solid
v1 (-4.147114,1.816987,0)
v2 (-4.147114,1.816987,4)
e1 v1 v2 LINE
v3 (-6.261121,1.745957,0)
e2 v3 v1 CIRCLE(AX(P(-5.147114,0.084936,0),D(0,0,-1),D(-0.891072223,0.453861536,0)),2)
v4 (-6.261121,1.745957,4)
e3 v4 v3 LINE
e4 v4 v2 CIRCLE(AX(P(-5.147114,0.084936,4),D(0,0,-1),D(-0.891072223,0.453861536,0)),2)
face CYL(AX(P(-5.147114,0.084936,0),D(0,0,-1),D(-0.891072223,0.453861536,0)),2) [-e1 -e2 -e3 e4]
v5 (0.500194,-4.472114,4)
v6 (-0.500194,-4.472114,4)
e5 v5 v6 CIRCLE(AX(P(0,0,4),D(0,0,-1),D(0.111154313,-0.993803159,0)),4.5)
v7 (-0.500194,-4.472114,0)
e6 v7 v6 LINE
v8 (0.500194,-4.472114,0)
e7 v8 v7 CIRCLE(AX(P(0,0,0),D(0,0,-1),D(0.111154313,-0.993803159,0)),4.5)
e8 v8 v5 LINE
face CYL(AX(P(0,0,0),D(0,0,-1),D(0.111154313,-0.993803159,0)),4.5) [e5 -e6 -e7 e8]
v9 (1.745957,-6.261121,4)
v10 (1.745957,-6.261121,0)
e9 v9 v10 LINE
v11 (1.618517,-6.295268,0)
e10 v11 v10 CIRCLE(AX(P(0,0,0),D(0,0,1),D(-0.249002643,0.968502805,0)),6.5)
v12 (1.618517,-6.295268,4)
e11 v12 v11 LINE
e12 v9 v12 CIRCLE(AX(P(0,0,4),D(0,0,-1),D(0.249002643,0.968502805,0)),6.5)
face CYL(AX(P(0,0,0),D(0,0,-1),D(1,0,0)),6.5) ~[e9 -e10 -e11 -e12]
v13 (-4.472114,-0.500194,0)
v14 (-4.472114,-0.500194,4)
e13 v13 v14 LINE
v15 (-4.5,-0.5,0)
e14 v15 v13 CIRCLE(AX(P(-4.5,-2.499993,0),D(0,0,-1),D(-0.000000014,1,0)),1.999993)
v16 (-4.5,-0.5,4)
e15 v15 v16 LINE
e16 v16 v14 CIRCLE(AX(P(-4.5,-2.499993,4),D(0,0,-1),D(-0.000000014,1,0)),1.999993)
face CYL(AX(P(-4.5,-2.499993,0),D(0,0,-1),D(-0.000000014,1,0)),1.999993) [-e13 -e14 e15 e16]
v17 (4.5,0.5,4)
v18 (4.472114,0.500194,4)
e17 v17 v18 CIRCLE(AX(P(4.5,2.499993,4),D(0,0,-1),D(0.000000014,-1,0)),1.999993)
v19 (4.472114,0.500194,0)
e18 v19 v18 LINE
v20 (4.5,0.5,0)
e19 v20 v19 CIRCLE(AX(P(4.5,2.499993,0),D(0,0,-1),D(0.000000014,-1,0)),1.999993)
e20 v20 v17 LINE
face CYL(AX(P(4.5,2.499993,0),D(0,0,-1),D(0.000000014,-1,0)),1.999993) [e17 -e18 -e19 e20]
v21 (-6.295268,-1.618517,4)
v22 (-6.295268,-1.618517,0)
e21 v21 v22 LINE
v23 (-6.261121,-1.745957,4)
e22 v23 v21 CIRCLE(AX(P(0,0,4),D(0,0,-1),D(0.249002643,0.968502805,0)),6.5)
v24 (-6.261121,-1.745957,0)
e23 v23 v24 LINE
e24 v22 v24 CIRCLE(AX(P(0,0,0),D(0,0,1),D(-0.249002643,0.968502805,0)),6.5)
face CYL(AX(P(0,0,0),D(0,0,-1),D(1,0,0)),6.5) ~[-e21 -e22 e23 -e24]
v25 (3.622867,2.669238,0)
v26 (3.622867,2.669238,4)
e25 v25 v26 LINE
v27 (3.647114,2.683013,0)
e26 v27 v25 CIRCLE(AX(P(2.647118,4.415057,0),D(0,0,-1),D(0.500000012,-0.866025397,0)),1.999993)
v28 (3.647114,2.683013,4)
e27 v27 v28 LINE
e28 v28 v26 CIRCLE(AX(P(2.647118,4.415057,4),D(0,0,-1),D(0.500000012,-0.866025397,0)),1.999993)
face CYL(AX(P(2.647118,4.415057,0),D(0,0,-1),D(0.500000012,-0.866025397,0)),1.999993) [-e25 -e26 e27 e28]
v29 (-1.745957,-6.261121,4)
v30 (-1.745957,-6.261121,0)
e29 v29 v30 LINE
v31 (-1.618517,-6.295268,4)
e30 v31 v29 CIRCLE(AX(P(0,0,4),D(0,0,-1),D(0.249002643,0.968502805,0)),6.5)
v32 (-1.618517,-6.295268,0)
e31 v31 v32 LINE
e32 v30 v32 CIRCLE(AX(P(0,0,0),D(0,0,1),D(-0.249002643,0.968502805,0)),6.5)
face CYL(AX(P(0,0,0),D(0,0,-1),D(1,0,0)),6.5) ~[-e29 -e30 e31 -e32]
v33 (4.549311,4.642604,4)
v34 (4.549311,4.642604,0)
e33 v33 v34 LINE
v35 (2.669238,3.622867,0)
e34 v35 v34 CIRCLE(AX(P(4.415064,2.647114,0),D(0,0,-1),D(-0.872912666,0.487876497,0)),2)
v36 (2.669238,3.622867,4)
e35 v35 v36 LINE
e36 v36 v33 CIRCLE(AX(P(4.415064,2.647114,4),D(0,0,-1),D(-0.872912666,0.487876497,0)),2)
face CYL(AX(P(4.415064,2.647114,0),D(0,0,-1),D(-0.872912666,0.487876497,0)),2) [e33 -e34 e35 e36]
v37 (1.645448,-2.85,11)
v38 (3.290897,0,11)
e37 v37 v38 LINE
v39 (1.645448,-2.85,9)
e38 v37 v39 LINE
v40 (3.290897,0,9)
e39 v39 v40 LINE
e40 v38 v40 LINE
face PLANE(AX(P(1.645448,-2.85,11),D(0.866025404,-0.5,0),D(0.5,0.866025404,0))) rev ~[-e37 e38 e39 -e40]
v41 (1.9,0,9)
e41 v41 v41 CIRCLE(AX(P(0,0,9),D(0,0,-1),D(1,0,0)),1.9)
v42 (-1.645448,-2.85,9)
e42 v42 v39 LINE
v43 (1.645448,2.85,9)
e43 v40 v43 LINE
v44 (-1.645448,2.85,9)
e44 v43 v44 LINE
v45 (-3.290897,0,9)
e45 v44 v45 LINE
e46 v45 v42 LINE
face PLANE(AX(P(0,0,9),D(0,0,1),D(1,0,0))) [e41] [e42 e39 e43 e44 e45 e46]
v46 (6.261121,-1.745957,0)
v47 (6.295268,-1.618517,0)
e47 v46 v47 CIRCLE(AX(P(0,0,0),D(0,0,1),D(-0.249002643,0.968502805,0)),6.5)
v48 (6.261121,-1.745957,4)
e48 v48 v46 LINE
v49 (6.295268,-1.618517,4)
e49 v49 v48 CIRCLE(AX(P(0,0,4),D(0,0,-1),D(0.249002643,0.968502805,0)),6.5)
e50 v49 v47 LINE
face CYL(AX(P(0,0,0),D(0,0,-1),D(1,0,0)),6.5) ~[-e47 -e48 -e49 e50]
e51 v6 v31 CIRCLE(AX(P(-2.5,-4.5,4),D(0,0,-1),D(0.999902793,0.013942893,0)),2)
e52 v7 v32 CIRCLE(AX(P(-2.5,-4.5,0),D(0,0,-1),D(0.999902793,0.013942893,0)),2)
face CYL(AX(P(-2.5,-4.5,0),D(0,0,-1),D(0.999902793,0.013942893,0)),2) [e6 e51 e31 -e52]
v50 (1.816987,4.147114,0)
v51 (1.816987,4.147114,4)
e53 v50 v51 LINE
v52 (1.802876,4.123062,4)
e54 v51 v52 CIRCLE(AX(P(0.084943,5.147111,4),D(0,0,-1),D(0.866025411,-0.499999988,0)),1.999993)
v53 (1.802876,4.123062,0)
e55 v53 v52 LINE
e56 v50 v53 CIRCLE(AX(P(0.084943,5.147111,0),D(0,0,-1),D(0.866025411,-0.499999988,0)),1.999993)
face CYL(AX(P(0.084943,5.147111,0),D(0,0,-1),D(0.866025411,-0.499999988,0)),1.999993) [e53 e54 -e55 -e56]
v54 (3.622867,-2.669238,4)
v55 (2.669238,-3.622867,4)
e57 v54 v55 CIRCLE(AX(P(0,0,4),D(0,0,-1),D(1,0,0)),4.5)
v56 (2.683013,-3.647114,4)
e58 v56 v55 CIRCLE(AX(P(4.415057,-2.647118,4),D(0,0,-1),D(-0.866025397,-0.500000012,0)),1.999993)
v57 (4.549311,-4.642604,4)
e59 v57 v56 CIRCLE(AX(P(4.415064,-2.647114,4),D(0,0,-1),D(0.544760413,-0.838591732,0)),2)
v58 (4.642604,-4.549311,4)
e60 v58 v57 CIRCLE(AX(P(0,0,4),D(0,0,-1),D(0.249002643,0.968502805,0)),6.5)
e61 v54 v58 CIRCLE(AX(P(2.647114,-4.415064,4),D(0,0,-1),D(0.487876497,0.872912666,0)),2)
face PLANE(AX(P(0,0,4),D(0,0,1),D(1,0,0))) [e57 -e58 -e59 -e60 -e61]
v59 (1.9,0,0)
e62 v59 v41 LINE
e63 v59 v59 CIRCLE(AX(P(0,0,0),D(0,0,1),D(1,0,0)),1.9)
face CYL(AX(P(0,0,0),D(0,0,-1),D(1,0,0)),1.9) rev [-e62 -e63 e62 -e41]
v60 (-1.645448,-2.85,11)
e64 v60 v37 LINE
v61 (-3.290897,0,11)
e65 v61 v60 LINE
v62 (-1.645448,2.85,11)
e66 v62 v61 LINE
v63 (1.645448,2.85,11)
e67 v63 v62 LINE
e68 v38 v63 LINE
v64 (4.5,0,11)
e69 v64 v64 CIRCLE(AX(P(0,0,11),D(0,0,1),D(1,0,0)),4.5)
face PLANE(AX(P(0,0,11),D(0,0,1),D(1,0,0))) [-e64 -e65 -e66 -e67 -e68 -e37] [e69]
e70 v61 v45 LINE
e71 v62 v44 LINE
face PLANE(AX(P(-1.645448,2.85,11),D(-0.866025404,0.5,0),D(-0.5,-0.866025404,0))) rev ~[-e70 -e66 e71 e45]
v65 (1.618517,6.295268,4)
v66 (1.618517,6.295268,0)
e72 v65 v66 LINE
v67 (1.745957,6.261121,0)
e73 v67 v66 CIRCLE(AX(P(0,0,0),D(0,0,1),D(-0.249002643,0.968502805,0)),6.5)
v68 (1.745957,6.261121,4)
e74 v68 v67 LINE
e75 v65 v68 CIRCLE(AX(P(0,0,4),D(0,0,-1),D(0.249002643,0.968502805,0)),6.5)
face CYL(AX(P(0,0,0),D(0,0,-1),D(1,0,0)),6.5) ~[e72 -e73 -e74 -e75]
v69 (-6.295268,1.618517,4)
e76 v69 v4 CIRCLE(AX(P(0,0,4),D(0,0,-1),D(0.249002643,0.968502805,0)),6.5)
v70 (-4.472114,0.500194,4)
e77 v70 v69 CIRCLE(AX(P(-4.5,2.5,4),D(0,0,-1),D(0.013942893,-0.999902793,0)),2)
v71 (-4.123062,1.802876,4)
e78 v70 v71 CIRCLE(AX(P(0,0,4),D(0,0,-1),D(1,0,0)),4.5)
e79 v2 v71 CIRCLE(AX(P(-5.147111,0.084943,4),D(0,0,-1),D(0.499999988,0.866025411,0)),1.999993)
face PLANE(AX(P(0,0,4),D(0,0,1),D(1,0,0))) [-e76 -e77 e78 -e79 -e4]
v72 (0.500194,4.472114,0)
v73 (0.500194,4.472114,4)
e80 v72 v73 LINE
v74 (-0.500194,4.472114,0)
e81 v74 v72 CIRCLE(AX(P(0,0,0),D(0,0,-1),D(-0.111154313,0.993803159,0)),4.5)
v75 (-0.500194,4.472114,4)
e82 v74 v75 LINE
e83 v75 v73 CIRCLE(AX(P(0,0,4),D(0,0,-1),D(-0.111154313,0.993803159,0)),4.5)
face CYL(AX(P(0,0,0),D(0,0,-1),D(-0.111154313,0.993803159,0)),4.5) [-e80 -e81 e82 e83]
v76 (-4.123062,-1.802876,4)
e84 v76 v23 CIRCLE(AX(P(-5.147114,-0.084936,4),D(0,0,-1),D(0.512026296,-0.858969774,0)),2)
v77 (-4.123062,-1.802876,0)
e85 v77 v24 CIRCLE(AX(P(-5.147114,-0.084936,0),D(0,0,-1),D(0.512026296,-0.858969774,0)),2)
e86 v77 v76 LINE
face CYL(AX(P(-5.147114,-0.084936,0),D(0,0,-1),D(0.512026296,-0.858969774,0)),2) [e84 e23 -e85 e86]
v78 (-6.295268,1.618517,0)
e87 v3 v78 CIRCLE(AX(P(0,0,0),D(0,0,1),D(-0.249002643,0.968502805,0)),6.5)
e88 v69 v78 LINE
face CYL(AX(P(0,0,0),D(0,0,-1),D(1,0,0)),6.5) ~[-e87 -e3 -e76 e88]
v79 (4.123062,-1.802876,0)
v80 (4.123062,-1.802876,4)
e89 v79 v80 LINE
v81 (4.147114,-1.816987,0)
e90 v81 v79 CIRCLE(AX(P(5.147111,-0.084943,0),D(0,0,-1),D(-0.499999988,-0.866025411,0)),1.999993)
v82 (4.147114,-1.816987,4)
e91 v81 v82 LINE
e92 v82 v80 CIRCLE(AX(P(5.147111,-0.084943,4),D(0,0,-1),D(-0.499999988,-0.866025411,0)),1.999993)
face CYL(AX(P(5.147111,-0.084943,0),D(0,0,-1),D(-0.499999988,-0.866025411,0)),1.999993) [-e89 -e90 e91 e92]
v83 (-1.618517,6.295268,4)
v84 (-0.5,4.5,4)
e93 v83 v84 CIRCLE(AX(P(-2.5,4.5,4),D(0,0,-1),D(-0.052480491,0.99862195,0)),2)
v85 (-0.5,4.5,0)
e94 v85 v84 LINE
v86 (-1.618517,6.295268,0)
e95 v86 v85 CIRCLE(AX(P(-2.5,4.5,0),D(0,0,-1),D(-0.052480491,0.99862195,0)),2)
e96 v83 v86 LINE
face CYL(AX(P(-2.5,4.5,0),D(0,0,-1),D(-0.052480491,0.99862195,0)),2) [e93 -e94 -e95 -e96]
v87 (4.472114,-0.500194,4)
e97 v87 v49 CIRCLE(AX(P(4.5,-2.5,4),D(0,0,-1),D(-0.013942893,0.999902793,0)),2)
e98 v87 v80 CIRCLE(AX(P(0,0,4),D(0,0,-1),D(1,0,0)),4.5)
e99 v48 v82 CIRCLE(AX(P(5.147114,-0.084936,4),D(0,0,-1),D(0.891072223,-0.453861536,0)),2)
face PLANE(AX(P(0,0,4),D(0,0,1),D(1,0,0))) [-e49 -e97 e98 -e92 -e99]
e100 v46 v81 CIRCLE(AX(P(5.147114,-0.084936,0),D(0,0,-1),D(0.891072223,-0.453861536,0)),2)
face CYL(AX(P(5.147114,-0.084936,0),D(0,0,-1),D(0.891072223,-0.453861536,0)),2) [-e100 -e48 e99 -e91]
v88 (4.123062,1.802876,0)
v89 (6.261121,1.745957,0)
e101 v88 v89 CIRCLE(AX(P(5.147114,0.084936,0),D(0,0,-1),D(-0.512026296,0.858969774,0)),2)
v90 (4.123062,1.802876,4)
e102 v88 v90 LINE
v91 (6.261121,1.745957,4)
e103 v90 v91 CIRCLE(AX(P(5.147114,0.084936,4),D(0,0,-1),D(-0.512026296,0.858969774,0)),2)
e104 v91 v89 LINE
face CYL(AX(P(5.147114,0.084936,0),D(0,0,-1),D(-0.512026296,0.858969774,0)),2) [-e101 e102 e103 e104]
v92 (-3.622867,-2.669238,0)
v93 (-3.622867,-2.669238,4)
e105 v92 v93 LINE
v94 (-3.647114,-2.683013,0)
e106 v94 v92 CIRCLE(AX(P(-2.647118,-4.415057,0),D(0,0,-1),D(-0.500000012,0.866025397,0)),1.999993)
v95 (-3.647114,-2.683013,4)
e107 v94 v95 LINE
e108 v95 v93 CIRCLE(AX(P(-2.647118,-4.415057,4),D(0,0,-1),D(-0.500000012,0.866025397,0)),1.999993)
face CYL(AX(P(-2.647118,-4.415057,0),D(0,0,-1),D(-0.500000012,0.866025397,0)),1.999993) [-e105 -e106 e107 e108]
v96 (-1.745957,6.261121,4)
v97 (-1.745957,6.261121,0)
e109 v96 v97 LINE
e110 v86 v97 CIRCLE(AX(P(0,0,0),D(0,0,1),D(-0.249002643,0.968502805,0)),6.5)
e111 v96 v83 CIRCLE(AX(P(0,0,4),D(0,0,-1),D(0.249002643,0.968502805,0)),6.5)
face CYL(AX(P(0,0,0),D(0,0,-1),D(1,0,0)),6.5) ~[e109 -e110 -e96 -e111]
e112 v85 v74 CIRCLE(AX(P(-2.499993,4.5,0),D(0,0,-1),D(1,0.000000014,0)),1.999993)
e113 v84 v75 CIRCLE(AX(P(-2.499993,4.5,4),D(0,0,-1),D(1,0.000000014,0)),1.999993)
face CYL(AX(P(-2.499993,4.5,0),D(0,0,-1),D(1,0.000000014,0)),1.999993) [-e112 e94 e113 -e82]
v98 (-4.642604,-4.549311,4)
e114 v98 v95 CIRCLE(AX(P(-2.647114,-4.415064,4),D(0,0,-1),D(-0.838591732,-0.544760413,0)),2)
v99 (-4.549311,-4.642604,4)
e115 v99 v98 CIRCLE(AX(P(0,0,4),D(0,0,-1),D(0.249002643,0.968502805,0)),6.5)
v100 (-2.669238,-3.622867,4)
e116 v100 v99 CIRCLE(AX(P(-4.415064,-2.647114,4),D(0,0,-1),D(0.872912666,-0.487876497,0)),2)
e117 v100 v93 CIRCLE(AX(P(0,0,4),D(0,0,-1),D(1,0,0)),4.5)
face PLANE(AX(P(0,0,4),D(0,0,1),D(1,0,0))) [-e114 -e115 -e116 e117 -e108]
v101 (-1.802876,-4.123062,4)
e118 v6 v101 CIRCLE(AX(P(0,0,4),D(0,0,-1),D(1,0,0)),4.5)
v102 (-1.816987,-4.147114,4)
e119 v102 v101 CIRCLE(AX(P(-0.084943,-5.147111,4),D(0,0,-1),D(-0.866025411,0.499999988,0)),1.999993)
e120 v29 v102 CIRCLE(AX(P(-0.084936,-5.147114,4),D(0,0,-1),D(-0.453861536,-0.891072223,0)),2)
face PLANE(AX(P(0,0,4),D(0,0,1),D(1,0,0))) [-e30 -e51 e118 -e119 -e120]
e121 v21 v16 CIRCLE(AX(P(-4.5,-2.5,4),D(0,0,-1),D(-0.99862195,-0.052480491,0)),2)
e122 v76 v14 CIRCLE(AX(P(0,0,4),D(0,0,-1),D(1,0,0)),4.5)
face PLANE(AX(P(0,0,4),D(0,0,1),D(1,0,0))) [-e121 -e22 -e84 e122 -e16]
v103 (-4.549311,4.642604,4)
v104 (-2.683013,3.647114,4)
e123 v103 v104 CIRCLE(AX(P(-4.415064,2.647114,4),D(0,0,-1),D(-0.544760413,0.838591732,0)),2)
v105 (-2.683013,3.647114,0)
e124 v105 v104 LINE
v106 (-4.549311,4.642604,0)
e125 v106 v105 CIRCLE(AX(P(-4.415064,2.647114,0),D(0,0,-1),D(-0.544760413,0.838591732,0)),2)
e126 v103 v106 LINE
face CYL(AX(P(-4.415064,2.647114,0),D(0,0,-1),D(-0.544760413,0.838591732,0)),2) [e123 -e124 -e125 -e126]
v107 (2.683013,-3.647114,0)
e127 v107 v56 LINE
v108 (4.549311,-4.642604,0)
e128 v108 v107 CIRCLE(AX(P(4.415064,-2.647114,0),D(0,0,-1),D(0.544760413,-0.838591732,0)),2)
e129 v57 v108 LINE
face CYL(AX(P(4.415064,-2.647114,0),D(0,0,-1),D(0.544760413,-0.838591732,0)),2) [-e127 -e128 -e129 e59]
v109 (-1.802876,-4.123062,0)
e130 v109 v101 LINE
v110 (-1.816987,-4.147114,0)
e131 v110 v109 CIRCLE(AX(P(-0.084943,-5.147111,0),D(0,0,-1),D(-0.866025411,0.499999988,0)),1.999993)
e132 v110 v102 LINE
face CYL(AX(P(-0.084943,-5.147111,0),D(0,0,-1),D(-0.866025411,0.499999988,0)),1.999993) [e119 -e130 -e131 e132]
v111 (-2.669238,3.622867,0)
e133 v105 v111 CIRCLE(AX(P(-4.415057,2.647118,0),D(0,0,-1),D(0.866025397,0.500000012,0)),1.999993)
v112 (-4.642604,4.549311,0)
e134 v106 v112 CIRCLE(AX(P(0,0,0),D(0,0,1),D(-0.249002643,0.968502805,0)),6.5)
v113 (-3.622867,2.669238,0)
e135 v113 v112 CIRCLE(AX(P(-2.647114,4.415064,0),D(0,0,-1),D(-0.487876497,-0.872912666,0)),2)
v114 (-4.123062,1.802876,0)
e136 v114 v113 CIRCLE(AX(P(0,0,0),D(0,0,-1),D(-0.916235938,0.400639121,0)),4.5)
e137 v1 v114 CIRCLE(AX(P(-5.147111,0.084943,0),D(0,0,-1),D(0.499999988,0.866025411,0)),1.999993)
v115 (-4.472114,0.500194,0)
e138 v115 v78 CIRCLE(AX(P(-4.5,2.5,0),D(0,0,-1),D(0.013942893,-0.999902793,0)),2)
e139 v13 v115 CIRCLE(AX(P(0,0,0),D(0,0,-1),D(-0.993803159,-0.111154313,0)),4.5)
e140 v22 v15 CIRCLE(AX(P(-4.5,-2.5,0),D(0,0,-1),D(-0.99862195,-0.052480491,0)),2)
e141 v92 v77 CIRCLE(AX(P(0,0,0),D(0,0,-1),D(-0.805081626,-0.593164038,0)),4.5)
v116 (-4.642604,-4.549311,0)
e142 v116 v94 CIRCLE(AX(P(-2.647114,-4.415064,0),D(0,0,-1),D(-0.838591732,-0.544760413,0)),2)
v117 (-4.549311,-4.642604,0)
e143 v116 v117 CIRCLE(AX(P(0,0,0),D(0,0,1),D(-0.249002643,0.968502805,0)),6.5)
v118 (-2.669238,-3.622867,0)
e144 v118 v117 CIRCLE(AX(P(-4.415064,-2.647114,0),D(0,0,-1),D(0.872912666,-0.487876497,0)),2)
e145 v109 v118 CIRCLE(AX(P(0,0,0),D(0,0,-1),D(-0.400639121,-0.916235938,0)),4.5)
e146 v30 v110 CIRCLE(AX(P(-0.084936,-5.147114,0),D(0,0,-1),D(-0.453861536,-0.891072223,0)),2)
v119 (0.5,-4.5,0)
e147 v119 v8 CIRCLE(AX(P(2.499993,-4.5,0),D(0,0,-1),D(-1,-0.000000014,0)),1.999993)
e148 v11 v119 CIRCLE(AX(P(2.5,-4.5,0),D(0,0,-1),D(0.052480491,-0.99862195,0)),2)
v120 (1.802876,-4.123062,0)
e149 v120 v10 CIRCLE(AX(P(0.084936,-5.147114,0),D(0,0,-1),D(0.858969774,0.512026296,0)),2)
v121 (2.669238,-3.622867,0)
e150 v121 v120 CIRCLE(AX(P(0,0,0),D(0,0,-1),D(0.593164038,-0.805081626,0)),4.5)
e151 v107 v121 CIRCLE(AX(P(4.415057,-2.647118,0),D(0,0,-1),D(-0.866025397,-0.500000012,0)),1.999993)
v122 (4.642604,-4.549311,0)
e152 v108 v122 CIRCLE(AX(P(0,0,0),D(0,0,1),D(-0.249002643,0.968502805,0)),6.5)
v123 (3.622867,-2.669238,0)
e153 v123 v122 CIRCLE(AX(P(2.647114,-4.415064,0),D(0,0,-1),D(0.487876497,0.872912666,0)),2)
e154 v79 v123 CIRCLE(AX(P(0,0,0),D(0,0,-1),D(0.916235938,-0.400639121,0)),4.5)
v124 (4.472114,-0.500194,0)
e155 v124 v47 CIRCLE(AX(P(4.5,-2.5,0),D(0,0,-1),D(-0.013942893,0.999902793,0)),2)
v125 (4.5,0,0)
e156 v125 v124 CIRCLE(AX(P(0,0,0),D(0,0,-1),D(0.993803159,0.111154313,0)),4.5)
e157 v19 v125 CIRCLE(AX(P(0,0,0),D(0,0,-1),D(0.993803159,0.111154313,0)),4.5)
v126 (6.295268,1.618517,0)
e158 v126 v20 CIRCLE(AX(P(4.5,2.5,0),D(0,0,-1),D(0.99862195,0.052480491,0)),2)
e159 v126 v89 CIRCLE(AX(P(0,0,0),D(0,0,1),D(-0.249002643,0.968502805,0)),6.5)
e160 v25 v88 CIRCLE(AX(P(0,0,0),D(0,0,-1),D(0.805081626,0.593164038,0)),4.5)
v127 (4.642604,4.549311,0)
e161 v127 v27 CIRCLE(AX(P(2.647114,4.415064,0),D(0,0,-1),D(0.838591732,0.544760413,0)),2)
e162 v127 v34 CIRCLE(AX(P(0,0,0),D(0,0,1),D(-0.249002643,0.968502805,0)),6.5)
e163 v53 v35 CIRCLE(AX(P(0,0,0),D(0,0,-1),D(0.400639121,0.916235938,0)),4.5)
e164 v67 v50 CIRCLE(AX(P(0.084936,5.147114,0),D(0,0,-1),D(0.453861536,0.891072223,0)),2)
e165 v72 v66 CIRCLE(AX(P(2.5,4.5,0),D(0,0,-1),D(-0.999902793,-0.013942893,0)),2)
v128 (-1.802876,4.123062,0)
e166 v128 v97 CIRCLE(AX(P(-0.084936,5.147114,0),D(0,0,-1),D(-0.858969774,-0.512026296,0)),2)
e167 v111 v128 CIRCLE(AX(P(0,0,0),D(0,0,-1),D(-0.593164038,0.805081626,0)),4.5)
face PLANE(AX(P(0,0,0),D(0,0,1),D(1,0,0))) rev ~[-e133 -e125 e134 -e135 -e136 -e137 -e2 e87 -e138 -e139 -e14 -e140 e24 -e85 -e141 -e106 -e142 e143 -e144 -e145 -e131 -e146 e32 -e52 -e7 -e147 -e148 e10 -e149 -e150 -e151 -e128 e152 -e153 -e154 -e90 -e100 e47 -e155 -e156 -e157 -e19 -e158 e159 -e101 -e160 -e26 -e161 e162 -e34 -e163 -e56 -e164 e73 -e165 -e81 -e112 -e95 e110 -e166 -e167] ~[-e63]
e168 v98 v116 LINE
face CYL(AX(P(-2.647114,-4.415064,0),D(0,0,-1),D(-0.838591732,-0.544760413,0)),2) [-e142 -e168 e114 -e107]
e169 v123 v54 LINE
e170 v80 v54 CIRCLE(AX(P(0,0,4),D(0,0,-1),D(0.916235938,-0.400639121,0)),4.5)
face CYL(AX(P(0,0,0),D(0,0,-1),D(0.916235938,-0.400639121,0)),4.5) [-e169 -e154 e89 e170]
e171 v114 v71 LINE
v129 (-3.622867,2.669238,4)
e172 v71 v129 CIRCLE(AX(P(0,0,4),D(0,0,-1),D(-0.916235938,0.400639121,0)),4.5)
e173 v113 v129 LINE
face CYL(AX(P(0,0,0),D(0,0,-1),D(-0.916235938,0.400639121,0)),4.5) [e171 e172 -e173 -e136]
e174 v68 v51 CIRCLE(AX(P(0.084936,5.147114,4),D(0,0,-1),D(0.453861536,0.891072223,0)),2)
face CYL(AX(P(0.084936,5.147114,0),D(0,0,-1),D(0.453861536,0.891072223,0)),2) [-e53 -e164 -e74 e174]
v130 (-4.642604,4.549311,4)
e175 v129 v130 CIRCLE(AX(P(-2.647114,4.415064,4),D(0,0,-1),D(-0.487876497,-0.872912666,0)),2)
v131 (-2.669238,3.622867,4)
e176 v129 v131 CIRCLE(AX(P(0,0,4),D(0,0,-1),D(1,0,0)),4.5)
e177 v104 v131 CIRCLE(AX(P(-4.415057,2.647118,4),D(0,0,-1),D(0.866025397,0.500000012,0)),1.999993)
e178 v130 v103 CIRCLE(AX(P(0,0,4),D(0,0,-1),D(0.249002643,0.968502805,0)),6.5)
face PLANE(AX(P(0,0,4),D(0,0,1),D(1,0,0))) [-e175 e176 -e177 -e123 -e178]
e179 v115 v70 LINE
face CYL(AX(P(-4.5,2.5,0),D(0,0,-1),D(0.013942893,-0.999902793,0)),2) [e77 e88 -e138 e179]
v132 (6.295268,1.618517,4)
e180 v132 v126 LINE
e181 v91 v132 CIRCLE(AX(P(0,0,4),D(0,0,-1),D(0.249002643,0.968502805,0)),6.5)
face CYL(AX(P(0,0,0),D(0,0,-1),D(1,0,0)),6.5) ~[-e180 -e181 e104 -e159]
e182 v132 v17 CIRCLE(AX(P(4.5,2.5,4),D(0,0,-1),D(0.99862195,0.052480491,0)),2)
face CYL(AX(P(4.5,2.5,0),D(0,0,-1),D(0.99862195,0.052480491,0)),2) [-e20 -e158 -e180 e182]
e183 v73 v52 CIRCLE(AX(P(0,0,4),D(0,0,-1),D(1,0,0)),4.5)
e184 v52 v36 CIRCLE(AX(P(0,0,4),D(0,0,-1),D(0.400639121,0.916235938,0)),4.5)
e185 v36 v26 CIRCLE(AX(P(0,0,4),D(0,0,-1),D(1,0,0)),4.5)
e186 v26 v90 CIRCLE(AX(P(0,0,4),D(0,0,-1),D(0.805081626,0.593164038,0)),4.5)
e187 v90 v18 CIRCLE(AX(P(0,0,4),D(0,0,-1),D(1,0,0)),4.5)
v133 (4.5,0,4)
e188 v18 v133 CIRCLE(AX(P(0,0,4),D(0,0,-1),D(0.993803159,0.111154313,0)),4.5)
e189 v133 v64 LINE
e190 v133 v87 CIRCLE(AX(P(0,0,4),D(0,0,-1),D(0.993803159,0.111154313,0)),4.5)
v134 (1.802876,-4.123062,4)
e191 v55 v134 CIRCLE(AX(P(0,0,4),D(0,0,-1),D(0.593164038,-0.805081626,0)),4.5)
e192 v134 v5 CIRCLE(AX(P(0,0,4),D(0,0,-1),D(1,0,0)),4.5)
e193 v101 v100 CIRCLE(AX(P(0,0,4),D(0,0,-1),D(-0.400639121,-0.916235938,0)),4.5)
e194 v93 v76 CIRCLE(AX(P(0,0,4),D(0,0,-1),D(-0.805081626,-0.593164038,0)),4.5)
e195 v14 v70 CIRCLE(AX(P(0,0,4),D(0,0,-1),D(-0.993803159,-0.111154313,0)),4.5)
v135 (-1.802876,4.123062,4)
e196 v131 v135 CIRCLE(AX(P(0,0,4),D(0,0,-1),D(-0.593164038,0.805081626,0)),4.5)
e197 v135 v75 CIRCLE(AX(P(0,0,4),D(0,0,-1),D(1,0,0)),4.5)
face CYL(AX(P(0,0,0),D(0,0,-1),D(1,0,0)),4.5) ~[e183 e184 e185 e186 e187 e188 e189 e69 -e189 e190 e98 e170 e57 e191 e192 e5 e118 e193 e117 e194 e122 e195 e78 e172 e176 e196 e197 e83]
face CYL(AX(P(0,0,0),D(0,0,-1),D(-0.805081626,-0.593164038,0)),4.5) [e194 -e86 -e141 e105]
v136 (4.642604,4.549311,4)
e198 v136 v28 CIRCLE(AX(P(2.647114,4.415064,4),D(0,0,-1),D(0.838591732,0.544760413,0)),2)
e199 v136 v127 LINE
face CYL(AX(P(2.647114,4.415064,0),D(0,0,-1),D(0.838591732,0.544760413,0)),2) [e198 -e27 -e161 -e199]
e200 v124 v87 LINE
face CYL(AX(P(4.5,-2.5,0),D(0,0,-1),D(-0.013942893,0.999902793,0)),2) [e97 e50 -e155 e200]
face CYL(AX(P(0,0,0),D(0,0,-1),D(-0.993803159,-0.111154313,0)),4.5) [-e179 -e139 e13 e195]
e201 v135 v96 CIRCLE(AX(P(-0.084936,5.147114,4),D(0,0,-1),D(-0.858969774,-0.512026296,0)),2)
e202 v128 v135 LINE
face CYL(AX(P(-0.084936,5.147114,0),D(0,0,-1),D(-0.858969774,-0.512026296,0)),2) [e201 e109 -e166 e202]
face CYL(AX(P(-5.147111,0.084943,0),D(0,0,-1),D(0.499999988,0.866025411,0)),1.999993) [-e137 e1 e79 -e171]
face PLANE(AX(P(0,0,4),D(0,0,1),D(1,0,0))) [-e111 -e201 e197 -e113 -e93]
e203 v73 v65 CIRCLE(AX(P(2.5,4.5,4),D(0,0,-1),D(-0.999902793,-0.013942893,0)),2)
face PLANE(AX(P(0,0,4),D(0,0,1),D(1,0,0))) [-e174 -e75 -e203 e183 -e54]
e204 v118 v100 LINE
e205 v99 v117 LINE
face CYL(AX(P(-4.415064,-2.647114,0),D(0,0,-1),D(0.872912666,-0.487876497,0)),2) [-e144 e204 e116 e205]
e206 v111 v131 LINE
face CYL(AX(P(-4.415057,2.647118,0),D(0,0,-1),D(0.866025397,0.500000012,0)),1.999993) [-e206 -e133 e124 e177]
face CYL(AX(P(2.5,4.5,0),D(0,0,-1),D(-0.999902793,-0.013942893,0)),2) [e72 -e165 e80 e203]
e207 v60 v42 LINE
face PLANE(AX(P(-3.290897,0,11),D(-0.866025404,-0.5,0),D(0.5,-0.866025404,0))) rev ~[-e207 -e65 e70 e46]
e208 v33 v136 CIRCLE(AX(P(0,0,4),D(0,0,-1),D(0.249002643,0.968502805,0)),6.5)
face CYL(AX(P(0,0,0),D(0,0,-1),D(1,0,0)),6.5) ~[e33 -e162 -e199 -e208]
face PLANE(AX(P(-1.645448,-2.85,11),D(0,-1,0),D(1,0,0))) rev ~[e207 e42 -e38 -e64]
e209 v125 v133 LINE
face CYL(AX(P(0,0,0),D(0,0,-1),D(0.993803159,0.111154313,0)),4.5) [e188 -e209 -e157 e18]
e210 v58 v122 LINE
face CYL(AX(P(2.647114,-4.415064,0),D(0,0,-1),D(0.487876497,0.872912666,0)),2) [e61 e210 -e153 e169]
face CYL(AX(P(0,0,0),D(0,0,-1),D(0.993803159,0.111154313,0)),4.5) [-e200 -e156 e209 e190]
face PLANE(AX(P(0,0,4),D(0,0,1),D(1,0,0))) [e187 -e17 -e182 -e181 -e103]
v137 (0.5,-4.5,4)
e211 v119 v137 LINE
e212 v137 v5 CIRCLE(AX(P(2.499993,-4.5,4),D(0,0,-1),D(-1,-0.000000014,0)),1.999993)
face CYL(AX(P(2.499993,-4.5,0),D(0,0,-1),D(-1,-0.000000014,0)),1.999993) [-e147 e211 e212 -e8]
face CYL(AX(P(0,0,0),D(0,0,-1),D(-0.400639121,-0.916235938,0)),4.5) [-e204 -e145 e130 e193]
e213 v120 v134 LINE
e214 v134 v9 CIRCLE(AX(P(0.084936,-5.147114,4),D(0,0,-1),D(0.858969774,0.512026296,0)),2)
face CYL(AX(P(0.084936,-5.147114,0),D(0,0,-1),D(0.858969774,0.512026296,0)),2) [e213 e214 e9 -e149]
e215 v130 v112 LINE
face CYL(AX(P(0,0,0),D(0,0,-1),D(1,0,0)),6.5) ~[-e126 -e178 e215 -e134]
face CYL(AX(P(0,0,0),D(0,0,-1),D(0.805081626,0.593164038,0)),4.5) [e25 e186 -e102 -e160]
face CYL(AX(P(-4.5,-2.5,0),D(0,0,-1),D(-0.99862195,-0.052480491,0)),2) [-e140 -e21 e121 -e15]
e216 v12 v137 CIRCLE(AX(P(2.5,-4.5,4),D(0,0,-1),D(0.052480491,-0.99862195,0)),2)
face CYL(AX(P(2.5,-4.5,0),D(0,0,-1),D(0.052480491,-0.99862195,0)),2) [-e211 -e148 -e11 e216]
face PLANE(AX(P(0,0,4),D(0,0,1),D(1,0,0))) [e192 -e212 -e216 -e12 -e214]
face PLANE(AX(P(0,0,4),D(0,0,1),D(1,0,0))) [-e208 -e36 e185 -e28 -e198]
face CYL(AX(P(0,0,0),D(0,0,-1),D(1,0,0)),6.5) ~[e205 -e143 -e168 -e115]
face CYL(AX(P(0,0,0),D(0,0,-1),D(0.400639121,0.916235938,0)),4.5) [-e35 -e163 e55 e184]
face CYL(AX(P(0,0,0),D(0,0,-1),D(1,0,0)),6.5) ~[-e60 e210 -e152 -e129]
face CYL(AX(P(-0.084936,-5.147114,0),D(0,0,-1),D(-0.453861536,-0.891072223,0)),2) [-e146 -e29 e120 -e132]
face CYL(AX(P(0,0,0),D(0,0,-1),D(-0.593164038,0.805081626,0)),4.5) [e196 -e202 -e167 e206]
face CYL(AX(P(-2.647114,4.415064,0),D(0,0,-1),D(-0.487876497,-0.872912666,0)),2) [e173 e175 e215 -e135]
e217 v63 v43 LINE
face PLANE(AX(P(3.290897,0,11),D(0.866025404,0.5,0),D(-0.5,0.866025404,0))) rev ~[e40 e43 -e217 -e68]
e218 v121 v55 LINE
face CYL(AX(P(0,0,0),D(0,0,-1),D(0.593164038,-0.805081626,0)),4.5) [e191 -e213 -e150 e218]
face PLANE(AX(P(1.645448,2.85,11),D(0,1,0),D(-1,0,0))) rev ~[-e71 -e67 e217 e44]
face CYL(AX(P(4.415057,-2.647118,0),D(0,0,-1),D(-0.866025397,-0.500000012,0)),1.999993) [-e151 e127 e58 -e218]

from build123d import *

# Parameters (mm, degrees)
SKETCH1_R           = 6.5
SKETCH1_R_2         = 1
BOSS_EXTRUDE1_DEPTH = 4
CUT_EXTRUDE2_DEPTH  = 11.024968828
CIRPATTERN2_COUNT   = 12
SKETCH11_R          = 4.5
BOSS_EXTRUDE2_DEPTH = 11
CUT_EXTRUDE3_START  = 11
CUT_EXTRUDE3_DEPTH  = 2
SKETCH13_R          = 1.9
CUT_EXTRUDE4_DEPTH  = 15.151353444


with BuildPart() as part:
    # Sketch1 → Boss-Extrude1 (new body)
    with BuildSketch(Plane.XY):
        Circle(SKETCH1_R)
        Circle(SKETCH1_R_2, mode=Mode.SUBTRACT)
    extrude(amount=BOSS_EXTRUDE1_DEPTH)

    # Sketch4 → Cut-Extrude2 (cut, through all)
    with BuildSketch(Plane.XY):
        with BuildLine():
            ThreePointArc((-0.500194414, 4.472114215), (0, 4.5), (0.500194414, 4.472114215))
            ThreePointArc((0.500194414, 4.472114215), (1.113314535, 5.941215952), (2.604960982, 6.497243899))
            ThreePointArc((2.604960982, 6.497243899), (0, 7), (-2.604960982, 6.497243899))
            ThreePointArc((-2.604960982, 6.497243899), (-1.123395838, 5.950848366), (-0.5, 4.5))
            ThreePointArc((-0.5, 4.5), (-0.500048604, 4.486056768), (-0.500194414, 4.472114215))
        make_face()
    cut_extrude2 = extrude(amount=CUT_EXTRUDE2_DEPTH, mode=Mode.SUBTRACT)

    # CirPattern2: Cut-Extrude2 ×12 about axis
    cirpattern2_axis = Axis((0, 0, 4), (0, 0, -1))
    for i in range(1, CIRPATTERN2_COUNT):
        add(cut_extrude2.rotate(cirpattern2_axis, i * 360 / CIRPATTERN2_COUNT), mode=Mode.SUBTRACT)

    # Sketch11 → Boss-Extrude2 (add)
    with BuildSketch(Plane.XY):
        Circle(SKETCH11_R)
    extrude(amount=BOSS_EXTRUDE2_DEPTH)

    # Sketch12 → Cut-Extrude3 (cut)
    with BuildSketch(Plane.XY.offset(CUT_EXTRUDE3_START)):
        Polygon((3.290896534, 0), (1.645448267, 2.85), (-1.645448267, 2.85), (-3.290896534, 0), (-1.645448267, -2.85), (1.645448267, -2.85), align=None)
    extrude(amount=-CUT_EXTRUDE3_DEPTH, mode=Mode.SUBTRACT)

    # Sketch13 → Cut-Extrude4 (cut, through all)
    with BuildSketch(Plane.XY):
        Circle(SKETCH13_R)
    extrude(amount=CUT_EXTRUDE4_DEPTH, mode=Mode.SUBTRACT)


solid = part.part
